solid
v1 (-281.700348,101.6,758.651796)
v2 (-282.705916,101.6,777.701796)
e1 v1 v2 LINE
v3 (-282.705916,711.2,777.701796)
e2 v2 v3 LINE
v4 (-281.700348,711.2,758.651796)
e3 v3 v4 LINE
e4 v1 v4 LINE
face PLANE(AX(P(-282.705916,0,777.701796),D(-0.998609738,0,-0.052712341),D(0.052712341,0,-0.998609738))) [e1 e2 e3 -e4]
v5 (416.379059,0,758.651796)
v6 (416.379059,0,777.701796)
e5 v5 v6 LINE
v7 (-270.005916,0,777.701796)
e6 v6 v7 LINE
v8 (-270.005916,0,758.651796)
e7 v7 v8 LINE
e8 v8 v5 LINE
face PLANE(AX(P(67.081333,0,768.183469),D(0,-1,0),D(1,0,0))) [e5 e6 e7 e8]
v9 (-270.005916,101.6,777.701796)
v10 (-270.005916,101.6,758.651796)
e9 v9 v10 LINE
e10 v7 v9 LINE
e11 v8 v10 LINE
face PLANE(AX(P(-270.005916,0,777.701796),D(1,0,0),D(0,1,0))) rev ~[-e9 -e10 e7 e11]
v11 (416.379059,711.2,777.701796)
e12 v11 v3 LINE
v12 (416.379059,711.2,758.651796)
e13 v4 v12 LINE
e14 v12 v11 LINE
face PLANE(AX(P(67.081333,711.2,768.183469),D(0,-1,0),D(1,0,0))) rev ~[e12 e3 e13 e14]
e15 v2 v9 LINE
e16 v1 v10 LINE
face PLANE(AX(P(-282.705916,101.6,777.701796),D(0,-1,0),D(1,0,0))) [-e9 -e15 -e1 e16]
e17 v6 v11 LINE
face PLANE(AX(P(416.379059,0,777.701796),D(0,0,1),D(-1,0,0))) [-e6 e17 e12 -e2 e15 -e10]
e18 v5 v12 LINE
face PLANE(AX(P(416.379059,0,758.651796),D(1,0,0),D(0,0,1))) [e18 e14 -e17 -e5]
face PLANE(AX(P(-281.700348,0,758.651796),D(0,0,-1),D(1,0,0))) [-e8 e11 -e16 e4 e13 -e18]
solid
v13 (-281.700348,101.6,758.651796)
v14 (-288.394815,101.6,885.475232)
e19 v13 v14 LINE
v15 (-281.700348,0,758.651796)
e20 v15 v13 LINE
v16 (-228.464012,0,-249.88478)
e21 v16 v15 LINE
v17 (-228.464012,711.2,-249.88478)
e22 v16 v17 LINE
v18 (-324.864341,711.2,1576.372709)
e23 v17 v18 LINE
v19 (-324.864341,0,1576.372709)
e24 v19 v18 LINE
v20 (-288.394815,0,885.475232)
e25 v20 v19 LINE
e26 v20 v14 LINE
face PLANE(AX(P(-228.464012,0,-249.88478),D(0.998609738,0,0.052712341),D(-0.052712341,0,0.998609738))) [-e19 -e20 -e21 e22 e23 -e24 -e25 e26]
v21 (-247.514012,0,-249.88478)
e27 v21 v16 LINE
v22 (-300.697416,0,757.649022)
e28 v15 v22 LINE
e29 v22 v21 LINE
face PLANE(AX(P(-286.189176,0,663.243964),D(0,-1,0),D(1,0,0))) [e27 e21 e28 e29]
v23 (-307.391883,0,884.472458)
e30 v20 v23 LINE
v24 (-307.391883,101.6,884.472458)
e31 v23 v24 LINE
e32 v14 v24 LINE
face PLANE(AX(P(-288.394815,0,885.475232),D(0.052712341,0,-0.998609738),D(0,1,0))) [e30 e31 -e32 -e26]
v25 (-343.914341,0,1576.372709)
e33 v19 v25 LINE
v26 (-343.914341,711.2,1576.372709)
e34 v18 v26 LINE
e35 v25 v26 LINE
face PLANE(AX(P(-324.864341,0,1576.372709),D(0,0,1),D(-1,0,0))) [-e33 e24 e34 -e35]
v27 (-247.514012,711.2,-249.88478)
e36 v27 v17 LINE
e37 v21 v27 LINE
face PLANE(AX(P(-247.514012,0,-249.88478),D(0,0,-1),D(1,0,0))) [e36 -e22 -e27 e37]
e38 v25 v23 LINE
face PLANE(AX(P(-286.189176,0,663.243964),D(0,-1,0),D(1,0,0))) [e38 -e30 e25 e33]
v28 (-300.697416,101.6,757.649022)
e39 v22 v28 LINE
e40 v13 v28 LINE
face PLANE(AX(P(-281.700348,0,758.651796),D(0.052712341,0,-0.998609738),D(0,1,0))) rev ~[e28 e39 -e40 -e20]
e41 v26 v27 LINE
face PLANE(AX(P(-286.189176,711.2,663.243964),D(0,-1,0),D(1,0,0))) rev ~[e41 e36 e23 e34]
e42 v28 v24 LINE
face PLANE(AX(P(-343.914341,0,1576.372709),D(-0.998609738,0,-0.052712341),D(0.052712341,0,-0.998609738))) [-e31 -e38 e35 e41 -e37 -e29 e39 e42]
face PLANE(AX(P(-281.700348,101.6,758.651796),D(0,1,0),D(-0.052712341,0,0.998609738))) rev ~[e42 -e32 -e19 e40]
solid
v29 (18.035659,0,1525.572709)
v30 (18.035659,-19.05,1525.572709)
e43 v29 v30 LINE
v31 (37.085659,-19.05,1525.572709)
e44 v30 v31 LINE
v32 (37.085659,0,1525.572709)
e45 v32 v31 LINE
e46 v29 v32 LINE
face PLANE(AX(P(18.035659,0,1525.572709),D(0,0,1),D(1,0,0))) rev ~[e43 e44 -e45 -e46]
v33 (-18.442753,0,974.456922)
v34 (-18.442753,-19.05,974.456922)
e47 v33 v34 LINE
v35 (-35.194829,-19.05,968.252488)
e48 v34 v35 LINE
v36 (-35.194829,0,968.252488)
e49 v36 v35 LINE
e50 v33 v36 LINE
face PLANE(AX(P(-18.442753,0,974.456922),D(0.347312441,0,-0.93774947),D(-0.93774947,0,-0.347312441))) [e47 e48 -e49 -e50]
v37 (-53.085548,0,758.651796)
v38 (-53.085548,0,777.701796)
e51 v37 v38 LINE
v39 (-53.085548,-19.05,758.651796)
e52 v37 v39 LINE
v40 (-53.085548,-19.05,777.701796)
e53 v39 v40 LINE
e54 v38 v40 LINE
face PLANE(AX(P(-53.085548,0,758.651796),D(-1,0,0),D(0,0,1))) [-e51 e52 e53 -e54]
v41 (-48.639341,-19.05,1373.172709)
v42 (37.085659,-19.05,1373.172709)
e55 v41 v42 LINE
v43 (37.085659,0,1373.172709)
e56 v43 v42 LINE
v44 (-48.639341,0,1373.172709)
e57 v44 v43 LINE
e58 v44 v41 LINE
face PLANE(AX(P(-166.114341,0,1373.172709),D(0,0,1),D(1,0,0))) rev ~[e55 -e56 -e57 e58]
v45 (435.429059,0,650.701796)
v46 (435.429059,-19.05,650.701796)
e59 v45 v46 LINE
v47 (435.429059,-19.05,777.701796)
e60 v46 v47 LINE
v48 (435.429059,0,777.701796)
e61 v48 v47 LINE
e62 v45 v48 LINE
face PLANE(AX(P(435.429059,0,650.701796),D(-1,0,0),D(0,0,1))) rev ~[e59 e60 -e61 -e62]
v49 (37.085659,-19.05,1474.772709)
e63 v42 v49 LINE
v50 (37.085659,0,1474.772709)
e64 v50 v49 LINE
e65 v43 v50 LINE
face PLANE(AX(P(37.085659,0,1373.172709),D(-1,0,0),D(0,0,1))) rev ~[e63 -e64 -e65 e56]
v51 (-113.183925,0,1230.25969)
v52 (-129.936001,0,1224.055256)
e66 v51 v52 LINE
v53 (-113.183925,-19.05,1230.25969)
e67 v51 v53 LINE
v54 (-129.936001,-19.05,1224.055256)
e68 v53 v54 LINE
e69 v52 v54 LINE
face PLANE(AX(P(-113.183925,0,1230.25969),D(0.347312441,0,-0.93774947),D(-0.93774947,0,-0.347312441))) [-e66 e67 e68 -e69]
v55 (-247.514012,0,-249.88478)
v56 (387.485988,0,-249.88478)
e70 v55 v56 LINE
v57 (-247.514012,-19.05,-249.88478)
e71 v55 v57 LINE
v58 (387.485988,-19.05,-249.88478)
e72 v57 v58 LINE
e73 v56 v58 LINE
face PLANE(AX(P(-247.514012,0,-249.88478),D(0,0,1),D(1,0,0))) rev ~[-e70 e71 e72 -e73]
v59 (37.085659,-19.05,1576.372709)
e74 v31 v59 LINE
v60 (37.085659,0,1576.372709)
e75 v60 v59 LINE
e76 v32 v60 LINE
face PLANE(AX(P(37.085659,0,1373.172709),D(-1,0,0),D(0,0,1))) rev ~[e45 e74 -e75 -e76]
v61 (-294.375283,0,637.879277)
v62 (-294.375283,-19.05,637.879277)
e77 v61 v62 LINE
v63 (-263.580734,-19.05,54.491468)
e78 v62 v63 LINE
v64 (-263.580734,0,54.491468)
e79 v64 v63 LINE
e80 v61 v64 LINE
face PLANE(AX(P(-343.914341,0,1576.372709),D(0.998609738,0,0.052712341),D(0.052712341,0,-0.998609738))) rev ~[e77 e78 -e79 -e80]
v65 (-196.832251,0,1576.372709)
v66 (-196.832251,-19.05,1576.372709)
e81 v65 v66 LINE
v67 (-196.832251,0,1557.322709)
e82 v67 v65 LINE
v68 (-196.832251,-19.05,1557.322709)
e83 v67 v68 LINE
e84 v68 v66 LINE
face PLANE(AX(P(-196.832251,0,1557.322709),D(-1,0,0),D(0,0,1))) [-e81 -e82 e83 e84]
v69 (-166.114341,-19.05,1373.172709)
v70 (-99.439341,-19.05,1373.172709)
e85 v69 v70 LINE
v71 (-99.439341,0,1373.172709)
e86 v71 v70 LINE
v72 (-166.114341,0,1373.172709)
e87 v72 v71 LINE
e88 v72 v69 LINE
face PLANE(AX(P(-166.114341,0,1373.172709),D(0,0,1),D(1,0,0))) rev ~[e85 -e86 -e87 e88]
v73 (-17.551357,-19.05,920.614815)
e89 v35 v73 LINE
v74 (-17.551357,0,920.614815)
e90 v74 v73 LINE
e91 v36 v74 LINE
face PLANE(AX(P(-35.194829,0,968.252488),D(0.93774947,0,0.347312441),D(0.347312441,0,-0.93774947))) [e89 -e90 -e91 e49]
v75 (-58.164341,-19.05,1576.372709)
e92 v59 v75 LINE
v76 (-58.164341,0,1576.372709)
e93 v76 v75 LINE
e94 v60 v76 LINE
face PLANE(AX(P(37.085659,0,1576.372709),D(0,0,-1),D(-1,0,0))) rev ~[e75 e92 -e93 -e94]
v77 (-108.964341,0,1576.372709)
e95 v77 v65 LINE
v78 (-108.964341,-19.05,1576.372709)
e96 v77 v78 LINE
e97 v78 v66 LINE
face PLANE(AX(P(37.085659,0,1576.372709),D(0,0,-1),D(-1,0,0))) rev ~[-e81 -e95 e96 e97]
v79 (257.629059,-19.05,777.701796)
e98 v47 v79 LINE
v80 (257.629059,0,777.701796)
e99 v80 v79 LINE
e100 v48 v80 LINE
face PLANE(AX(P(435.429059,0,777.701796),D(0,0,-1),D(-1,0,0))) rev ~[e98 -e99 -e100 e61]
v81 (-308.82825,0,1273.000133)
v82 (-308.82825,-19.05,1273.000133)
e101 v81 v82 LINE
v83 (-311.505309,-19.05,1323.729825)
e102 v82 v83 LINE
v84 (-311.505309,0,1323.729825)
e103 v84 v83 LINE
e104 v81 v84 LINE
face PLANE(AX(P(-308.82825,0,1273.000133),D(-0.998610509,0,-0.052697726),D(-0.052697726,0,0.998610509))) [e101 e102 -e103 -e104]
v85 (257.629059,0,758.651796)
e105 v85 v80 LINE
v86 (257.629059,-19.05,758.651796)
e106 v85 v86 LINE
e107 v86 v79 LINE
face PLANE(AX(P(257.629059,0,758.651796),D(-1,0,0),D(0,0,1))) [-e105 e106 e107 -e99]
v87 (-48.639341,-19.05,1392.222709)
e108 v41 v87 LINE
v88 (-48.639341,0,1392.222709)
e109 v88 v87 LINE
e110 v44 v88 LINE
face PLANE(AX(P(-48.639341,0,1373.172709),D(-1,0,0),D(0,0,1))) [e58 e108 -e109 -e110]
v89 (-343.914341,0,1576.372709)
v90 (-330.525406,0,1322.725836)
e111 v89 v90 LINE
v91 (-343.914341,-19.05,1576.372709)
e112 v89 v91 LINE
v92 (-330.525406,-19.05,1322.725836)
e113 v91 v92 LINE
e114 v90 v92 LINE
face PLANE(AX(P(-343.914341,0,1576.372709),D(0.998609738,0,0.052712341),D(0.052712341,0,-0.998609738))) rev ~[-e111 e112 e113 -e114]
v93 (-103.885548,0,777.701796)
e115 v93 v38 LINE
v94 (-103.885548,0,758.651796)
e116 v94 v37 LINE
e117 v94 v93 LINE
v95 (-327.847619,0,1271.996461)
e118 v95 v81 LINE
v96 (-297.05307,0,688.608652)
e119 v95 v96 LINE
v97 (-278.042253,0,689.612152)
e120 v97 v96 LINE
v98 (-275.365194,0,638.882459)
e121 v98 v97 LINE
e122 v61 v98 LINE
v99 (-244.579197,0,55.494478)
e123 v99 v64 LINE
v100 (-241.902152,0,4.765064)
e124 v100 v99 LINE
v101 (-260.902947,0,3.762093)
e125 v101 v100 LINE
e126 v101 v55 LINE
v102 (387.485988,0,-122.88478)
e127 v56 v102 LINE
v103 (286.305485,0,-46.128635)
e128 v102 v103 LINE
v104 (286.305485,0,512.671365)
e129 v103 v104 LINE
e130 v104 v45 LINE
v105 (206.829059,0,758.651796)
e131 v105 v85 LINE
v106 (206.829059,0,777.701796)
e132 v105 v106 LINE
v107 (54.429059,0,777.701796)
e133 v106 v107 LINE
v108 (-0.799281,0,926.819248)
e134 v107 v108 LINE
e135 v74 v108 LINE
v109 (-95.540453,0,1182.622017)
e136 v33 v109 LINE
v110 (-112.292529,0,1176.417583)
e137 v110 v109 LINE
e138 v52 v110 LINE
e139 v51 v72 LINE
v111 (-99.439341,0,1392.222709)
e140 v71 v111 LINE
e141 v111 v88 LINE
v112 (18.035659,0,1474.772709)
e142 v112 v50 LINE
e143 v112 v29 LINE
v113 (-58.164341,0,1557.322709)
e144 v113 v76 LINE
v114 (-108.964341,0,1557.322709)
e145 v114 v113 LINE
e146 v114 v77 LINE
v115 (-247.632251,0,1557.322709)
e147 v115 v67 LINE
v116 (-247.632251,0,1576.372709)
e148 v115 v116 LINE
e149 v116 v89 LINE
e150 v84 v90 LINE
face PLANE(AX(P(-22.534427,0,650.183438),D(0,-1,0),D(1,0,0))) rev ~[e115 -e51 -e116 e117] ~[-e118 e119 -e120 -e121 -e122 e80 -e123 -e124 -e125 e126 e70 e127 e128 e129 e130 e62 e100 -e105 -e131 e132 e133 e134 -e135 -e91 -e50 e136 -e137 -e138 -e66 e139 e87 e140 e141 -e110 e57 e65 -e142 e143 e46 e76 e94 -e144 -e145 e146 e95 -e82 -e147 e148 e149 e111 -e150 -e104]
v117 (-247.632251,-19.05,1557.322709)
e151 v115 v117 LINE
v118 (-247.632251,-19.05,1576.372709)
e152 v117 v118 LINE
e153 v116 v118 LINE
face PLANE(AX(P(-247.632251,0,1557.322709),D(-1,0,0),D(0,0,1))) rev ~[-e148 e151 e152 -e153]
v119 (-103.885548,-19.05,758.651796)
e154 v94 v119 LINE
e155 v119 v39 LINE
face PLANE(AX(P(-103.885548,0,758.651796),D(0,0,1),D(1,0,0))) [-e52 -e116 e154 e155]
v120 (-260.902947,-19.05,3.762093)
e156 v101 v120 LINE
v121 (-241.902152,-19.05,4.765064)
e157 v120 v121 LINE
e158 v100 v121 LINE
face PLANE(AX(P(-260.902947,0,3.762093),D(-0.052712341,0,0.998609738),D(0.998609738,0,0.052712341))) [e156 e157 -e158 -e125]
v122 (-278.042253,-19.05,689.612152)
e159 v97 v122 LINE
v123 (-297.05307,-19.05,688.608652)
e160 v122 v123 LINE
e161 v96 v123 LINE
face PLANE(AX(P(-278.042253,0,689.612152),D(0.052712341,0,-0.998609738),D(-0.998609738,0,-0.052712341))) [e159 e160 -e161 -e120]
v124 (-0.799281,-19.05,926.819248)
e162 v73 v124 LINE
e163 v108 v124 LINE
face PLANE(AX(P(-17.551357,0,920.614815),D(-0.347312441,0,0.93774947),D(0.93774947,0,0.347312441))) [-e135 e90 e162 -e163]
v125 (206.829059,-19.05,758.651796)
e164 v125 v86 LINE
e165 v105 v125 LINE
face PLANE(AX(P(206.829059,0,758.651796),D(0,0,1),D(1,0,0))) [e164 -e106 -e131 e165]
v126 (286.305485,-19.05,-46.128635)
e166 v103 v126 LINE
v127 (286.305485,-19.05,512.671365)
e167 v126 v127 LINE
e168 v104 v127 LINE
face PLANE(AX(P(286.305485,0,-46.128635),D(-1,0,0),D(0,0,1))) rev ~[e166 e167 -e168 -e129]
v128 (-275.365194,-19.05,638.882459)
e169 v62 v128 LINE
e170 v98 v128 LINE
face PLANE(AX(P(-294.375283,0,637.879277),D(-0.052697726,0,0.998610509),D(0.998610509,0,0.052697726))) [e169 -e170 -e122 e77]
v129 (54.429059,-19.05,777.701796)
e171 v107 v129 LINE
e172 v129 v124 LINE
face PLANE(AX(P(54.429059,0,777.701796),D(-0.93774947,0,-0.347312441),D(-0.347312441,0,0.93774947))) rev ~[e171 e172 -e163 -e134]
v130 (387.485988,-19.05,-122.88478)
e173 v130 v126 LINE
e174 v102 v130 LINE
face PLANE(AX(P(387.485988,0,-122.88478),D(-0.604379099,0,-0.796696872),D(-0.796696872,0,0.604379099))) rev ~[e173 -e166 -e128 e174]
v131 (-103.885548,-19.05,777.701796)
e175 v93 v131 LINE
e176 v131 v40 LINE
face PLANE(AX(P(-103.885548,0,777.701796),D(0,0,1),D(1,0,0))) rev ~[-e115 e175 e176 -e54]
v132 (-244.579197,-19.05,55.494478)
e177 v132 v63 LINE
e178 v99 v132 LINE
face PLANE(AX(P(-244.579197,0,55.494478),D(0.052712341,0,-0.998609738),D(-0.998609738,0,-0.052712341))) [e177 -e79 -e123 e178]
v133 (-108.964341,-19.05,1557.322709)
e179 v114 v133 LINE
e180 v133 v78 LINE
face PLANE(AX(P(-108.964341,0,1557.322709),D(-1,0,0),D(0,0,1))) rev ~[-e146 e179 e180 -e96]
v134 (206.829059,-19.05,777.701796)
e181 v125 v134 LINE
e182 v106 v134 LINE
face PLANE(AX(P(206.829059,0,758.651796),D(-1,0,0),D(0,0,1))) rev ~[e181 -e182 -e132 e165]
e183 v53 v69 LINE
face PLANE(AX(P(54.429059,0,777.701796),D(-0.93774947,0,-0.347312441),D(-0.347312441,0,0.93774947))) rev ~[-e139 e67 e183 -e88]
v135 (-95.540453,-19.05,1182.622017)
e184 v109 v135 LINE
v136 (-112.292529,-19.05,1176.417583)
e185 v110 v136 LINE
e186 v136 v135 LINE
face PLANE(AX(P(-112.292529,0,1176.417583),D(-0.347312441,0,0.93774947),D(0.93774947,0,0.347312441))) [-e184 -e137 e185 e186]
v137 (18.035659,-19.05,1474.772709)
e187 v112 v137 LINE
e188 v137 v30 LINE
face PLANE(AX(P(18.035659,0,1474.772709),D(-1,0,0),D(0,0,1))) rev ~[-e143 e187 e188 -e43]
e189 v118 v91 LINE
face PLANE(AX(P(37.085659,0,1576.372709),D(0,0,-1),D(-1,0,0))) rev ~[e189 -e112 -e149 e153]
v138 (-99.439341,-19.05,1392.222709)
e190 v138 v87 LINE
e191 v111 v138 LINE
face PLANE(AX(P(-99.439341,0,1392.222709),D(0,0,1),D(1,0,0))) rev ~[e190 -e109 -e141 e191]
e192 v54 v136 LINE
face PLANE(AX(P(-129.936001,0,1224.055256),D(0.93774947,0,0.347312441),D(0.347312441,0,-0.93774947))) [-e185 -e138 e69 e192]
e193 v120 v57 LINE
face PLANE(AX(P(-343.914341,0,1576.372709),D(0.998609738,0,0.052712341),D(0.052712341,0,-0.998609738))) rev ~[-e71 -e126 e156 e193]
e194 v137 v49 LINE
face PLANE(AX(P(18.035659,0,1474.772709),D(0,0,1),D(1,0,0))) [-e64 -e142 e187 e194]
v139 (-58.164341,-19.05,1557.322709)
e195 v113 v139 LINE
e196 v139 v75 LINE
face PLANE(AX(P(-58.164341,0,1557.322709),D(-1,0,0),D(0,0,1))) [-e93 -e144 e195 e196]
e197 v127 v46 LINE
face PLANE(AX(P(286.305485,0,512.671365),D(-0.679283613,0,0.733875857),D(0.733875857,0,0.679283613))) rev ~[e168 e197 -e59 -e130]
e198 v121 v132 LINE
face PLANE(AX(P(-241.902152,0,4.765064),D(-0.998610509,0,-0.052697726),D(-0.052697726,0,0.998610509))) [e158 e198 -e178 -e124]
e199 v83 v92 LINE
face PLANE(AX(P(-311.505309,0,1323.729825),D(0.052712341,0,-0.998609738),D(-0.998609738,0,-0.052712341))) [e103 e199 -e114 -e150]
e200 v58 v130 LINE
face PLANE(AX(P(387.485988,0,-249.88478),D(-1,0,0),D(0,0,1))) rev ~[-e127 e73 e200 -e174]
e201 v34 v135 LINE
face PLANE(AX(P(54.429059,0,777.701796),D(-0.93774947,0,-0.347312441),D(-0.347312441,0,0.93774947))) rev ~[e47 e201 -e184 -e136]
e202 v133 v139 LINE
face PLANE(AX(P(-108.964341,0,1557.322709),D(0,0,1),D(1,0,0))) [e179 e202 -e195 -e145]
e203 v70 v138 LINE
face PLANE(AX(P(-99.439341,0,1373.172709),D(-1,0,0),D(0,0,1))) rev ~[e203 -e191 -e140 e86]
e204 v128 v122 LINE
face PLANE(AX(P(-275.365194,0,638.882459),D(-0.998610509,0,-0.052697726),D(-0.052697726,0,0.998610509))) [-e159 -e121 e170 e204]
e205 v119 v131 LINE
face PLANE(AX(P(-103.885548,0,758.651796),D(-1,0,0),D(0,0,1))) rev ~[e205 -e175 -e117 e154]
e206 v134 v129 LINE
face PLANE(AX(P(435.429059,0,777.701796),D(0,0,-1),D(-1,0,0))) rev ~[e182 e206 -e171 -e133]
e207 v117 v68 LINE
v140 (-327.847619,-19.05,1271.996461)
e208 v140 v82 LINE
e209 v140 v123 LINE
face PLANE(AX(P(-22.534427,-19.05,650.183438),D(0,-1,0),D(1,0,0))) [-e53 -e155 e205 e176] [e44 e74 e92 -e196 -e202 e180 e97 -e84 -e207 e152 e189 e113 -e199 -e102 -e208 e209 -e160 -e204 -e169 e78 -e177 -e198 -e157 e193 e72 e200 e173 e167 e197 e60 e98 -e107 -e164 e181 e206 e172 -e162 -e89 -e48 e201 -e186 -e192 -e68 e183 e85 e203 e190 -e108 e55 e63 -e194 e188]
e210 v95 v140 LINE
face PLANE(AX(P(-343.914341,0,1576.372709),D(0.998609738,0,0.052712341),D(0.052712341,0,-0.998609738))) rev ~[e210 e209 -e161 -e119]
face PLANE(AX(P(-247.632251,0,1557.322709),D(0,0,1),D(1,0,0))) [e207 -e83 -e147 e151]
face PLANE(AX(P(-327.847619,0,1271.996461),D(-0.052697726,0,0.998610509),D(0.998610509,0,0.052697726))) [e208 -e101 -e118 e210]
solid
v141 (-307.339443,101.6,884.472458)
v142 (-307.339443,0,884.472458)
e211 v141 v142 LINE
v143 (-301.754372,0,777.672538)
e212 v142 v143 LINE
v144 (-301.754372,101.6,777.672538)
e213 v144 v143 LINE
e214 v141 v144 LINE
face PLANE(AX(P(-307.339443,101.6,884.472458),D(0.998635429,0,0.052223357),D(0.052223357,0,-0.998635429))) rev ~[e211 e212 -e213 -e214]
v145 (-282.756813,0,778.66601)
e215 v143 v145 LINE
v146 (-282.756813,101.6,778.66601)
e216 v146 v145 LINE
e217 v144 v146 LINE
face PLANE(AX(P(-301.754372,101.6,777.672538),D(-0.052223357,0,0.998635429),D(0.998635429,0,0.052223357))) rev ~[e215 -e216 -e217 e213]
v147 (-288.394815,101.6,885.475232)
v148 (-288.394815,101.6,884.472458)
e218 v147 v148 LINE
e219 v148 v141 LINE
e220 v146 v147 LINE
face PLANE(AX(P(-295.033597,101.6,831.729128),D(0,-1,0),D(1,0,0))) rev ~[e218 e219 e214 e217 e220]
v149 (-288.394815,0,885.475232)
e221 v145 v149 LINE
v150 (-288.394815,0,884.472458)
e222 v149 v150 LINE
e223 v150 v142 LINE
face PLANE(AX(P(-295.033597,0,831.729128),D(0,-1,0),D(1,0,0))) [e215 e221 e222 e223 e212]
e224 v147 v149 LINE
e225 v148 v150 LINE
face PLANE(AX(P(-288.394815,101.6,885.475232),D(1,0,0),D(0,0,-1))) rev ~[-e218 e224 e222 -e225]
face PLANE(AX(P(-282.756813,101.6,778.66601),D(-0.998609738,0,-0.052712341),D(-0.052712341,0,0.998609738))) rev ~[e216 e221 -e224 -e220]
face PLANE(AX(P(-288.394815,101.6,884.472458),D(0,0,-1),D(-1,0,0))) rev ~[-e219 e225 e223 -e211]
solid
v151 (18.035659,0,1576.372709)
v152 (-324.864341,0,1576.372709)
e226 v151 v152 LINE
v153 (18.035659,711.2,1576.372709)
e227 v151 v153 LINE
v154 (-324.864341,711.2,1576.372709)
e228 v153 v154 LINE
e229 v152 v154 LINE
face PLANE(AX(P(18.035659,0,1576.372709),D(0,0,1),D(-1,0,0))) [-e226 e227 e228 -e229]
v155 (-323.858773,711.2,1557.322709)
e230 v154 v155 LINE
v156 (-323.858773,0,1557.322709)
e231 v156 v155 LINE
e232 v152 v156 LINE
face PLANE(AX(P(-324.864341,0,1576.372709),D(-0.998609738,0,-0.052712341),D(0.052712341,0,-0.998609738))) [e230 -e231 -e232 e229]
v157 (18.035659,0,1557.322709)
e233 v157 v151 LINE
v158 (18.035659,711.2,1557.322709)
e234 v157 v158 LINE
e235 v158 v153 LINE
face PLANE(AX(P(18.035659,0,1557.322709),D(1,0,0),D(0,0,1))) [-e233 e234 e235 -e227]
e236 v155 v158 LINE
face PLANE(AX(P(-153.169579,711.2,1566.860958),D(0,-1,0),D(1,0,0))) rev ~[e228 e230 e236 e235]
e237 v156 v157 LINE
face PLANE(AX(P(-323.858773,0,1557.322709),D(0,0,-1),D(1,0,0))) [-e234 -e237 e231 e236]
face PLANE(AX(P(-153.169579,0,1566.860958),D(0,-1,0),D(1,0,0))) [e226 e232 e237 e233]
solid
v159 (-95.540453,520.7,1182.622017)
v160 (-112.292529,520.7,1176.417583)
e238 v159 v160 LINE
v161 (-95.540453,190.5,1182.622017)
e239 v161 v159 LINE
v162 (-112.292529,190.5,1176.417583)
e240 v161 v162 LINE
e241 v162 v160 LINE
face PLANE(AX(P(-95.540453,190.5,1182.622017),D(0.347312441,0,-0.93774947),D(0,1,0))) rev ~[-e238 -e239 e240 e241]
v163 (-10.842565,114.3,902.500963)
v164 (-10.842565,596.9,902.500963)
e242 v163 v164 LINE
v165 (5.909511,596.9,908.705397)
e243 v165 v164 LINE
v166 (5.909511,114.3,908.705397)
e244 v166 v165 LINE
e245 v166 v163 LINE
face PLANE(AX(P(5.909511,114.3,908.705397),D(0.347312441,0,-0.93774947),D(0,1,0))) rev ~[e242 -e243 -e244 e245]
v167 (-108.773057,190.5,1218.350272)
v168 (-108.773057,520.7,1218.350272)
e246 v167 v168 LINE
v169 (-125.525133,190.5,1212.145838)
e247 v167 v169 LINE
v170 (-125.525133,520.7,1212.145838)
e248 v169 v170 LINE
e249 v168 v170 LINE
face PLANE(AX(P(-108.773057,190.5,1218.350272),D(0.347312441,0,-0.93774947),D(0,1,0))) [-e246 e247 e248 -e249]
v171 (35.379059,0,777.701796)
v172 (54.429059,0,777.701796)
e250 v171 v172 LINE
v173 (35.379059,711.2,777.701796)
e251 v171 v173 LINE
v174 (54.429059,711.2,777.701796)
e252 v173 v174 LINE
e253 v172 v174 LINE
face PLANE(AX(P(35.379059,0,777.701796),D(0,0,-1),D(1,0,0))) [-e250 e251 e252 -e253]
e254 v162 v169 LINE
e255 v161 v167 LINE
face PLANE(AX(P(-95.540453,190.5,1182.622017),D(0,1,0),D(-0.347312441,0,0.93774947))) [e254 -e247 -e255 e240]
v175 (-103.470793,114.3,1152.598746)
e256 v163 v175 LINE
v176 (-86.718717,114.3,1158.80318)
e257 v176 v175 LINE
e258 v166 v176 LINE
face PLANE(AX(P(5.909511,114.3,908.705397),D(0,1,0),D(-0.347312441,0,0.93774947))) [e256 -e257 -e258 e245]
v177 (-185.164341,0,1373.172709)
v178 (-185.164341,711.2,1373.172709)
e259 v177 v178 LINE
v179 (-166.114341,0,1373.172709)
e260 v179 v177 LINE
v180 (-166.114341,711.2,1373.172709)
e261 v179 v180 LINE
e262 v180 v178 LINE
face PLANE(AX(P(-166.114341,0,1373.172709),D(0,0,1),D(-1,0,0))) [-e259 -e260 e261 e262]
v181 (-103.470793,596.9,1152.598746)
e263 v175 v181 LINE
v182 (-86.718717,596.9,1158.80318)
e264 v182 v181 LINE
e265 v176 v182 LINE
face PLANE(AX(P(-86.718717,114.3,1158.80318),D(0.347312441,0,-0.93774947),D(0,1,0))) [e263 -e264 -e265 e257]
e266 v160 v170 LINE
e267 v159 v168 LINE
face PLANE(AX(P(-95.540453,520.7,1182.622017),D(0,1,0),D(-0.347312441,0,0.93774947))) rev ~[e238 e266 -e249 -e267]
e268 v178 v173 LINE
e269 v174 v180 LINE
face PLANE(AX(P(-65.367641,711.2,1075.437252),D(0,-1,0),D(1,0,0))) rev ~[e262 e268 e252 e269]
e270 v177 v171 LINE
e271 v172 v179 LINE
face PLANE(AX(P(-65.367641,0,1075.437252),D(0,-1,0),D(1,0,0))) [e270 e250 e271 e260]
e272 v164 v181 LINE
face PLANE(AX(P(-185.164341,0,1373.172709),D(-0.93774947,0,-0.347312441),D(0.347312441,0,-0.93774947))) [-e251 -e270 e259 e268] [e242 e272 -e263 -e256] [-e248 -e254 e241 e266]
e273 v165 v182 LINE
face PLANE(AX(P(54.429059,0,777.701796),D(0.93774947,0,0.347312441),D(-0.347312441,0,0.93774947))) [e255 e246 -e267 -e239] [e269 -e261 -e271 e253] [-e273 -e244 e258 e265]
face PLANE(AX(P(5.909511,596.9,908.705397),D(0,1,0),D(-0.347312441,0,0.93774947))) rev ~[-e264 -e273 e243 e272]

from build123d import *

# Parameters (mm, degrees)
F2_DEPTH  = 19.05
F3_W      = 50.8
F3_H      = 19.05
F3_W_2    = 19.05
F3_H_2    = 50.8
F4_DEPTH  = 19.05
F6_DEPTH  = 711.2
F7_W      = 12.7
F7_H      = 101.6
F8_DEPTH  = 19.05
F10_DEPTH = 711.2
F11_W     = 101.6
F11_H     = 127
F12_DEPTH = 19.0235155119
F14_DEPTH = 101.6
F16_DEPTH = 711.2
F18_DEPTH = 711.2
F19_W     = 482.6
F19_H     = 266.7
F19_W_2   = 330.2
F19_H_2   = 38.1
F20_DEPTH = 17.864127403


with BuildPart() as f2:
    # F1 (on face) → F2 (new body)
    with BuildSketch(Plane.XZ):
        Polygon((37.0856592504, 1373.1727089956), (37.0856592504, 1576.3727089956), (-166.1143407496, 1576.3727089956), (-343.9143407496, 1576.3727089956), (-247.5140121902, -249.8847801481), (387.4859878098, -249.8847801481), (387.4859878098, -122.8847801481), (286.3054851186, -46.1286346276), (286.3054851186, 512.6713653724), (435.4290591833, 650.7017955615), (435.4290591833, 736.0118588999), (435.4290591833, 777.7017955615), (54.4290591833, 777.7017955615), (-166.1143407496, 1373.1727089956), align=None)
    extrude(amount=F2_DEPTH)

    # F3 (on face) → F4 (cut, through all)
    with BuildSketch(Plane.XZ):
        with Locations((232.2290591833, 768.1767955615)):
            Rectangle(F3_W, F3_H)
        with Locations((-78.4855475583, 768.1767955615)):
            Rectangle(F3_W, F3_H)
        Polygon((-278.0422529634, 689.6121515597), (-297.0530699221, 688.6086517729), (-294.3752830177, 637.8792770745), (-275.36519378, 638.8824594688), align=None)
        Polygon((-0.7992807969, 926.8192484775), (-18.4427527915, 974.4569215522), (-35.1948287952, 968.2524878604), (-17.5513568006, 920.6148147857), align=None)
        Polygon((-95.540452771, 1182.6220166967), (-113.1839247657, 1230.2596897714), (-129.9360007694, 1224.0552560796), (-112.2925287748, 1176.4175830049), align=None)
        Polygon((-311.5053092422, 1323.7298251432), (-330.5254062274, 1322.7258355034), (-327.847619323, 1271.996460805), (-308.8282500516, 1273.0001329164), align=None)
        with Locations((-74.0393407496, 1382.6977089956)):
            Rectangle(F3_W, F3_H)
        with Locations((27.5606592504, 1500.1727089956)):
            Rectangle(F3_W_2, F3_H_2)
        with Locations((-83.5643407496, 1566.8477089956)):
            Rectangle(F3_W, F3_H)
        with Locations((-222.2322512977, 1566.8477089956)):
            Rectangle(F3_W, F3_H)
        Polygon((-244.5791966847, 55.4944779763), (-263.5807336168, 54.4914680425), (-260.9029467124, 3.762093344), (-241.9021521824, 4.7650640897), align=None)
    extrude(amount=F4_DEPTH, mode=Mode.SUBTRACT)


with BuildPart() as f6:
    # F5 (on face) → F6 (new body)
    with BuildSketch(Plane.XZ):
        Polygon((416.3790591833, 758.6517955615), (416.3790591833, 777.7017955615), (54.4290591833, 777.7017955615), (-282.7059162538, 777.7017955615), (-281.7003481617, 758.6517955615), align=None)
    extrude(amount=-F6_DEPTH)

    # F7 (on face) → F8 (cut, through all)
    with BuildSketch(Plane.XY.offset(777.7017955615)):
        with Locations((-276.3559162538, 50.8)):
            Rectangle(F7_W, F7_H)
    extrude(amount=-F8_DEPTH, mode=Mode.SUBTRACT)


with BuildPart() as f10:
    # F9 (on face) → F10 (new body)
    with BuildSketch(Plane.XZ):
        Polygon((-324.8643407496, 1576.3727089956), (-343.9143407496, 1576.3727089956), (-247.5140121902, -249.8847801481), (-228.4640121902, -249.8847801481), align=None)
    extrude(amount=-F10_DEPTH)

    # F11 (on face) → F12 (cut, through all)
    with BuildSketch(Plane(origin=(-240.9829032815, 0, -12.7204576527), x_dir=(0, 1, 0), z_dir=(0.9986097382, 0, 0.0527123406))):
        with Locations((50.8, 835.9461556291)):
            Rectangle(F11_W, F11_H)
    extrude(amount=-F12_DEPTH, mode=Mode.SUBTRACT)


with BuildPart() as f14:
    # F13 (on face) → F14 (new body, through all)
    with BuildSketch(Plane.XZ.offset(-101.6)):
        Polygon((-282.7568129958, 778.666009663), (-288.3948154228, 885.4752323076), (-288.3948154228, 884.4724582764), (-307.3394434827, 884.4724582764), (-301.7543718562, 777.672537698), align=None)
    extrude(amount=F14_DEPTH)


with BuildPart() as f16:
    # F15 (on face) → F16 (new body)
    with BuildSketch(Plane.XZ):
        Polygon((18.0356592504, 1576.3727089956), (-166.1143407496, 1576.3727089956), (-324.8643407496, 1576.3727089956), (-323.8587726574, 1557.3227089956), (18.0356592504, 1557.3227089956), align=None)
    extrude(amount=-F16_DEPTH)


with BuildPart() as f18:
    # F17 (on face) → F18 (new body)
    with BuildSketch(Plane.XZ):
        Polygon((35.3790591833, 777.7017955615), (54.4290591833, 777.7017955615), (-166.1143407496, 1373.1727089956), (-185.1643407496, 1373.1727089956), align=None)
    extrude(amount=-F18_DEPTH)

    # F19 (on face) → F20 (cut, through all)
    with BuildSketch(Plane(origin=(301.1548009874, 0, 111.5381158297), x_dir=(0, 1, 0), z_dir=(0.93774947, 0, 0.3473124408))):
        with Locations((355.6, 983.4355571889)):
            Rectangle(F19_W, F19_H)
        with Locations((355.6, 1161.2355571889)):
            Rectangle(F19_W_2, F19_H_2)
    extrude(amount=-F20_DEPTH, mode=Mode.SUBTRACT)


solid = Compound([f2.part, f6.part, f10.part, f14.part, f16.part, f18.part])
